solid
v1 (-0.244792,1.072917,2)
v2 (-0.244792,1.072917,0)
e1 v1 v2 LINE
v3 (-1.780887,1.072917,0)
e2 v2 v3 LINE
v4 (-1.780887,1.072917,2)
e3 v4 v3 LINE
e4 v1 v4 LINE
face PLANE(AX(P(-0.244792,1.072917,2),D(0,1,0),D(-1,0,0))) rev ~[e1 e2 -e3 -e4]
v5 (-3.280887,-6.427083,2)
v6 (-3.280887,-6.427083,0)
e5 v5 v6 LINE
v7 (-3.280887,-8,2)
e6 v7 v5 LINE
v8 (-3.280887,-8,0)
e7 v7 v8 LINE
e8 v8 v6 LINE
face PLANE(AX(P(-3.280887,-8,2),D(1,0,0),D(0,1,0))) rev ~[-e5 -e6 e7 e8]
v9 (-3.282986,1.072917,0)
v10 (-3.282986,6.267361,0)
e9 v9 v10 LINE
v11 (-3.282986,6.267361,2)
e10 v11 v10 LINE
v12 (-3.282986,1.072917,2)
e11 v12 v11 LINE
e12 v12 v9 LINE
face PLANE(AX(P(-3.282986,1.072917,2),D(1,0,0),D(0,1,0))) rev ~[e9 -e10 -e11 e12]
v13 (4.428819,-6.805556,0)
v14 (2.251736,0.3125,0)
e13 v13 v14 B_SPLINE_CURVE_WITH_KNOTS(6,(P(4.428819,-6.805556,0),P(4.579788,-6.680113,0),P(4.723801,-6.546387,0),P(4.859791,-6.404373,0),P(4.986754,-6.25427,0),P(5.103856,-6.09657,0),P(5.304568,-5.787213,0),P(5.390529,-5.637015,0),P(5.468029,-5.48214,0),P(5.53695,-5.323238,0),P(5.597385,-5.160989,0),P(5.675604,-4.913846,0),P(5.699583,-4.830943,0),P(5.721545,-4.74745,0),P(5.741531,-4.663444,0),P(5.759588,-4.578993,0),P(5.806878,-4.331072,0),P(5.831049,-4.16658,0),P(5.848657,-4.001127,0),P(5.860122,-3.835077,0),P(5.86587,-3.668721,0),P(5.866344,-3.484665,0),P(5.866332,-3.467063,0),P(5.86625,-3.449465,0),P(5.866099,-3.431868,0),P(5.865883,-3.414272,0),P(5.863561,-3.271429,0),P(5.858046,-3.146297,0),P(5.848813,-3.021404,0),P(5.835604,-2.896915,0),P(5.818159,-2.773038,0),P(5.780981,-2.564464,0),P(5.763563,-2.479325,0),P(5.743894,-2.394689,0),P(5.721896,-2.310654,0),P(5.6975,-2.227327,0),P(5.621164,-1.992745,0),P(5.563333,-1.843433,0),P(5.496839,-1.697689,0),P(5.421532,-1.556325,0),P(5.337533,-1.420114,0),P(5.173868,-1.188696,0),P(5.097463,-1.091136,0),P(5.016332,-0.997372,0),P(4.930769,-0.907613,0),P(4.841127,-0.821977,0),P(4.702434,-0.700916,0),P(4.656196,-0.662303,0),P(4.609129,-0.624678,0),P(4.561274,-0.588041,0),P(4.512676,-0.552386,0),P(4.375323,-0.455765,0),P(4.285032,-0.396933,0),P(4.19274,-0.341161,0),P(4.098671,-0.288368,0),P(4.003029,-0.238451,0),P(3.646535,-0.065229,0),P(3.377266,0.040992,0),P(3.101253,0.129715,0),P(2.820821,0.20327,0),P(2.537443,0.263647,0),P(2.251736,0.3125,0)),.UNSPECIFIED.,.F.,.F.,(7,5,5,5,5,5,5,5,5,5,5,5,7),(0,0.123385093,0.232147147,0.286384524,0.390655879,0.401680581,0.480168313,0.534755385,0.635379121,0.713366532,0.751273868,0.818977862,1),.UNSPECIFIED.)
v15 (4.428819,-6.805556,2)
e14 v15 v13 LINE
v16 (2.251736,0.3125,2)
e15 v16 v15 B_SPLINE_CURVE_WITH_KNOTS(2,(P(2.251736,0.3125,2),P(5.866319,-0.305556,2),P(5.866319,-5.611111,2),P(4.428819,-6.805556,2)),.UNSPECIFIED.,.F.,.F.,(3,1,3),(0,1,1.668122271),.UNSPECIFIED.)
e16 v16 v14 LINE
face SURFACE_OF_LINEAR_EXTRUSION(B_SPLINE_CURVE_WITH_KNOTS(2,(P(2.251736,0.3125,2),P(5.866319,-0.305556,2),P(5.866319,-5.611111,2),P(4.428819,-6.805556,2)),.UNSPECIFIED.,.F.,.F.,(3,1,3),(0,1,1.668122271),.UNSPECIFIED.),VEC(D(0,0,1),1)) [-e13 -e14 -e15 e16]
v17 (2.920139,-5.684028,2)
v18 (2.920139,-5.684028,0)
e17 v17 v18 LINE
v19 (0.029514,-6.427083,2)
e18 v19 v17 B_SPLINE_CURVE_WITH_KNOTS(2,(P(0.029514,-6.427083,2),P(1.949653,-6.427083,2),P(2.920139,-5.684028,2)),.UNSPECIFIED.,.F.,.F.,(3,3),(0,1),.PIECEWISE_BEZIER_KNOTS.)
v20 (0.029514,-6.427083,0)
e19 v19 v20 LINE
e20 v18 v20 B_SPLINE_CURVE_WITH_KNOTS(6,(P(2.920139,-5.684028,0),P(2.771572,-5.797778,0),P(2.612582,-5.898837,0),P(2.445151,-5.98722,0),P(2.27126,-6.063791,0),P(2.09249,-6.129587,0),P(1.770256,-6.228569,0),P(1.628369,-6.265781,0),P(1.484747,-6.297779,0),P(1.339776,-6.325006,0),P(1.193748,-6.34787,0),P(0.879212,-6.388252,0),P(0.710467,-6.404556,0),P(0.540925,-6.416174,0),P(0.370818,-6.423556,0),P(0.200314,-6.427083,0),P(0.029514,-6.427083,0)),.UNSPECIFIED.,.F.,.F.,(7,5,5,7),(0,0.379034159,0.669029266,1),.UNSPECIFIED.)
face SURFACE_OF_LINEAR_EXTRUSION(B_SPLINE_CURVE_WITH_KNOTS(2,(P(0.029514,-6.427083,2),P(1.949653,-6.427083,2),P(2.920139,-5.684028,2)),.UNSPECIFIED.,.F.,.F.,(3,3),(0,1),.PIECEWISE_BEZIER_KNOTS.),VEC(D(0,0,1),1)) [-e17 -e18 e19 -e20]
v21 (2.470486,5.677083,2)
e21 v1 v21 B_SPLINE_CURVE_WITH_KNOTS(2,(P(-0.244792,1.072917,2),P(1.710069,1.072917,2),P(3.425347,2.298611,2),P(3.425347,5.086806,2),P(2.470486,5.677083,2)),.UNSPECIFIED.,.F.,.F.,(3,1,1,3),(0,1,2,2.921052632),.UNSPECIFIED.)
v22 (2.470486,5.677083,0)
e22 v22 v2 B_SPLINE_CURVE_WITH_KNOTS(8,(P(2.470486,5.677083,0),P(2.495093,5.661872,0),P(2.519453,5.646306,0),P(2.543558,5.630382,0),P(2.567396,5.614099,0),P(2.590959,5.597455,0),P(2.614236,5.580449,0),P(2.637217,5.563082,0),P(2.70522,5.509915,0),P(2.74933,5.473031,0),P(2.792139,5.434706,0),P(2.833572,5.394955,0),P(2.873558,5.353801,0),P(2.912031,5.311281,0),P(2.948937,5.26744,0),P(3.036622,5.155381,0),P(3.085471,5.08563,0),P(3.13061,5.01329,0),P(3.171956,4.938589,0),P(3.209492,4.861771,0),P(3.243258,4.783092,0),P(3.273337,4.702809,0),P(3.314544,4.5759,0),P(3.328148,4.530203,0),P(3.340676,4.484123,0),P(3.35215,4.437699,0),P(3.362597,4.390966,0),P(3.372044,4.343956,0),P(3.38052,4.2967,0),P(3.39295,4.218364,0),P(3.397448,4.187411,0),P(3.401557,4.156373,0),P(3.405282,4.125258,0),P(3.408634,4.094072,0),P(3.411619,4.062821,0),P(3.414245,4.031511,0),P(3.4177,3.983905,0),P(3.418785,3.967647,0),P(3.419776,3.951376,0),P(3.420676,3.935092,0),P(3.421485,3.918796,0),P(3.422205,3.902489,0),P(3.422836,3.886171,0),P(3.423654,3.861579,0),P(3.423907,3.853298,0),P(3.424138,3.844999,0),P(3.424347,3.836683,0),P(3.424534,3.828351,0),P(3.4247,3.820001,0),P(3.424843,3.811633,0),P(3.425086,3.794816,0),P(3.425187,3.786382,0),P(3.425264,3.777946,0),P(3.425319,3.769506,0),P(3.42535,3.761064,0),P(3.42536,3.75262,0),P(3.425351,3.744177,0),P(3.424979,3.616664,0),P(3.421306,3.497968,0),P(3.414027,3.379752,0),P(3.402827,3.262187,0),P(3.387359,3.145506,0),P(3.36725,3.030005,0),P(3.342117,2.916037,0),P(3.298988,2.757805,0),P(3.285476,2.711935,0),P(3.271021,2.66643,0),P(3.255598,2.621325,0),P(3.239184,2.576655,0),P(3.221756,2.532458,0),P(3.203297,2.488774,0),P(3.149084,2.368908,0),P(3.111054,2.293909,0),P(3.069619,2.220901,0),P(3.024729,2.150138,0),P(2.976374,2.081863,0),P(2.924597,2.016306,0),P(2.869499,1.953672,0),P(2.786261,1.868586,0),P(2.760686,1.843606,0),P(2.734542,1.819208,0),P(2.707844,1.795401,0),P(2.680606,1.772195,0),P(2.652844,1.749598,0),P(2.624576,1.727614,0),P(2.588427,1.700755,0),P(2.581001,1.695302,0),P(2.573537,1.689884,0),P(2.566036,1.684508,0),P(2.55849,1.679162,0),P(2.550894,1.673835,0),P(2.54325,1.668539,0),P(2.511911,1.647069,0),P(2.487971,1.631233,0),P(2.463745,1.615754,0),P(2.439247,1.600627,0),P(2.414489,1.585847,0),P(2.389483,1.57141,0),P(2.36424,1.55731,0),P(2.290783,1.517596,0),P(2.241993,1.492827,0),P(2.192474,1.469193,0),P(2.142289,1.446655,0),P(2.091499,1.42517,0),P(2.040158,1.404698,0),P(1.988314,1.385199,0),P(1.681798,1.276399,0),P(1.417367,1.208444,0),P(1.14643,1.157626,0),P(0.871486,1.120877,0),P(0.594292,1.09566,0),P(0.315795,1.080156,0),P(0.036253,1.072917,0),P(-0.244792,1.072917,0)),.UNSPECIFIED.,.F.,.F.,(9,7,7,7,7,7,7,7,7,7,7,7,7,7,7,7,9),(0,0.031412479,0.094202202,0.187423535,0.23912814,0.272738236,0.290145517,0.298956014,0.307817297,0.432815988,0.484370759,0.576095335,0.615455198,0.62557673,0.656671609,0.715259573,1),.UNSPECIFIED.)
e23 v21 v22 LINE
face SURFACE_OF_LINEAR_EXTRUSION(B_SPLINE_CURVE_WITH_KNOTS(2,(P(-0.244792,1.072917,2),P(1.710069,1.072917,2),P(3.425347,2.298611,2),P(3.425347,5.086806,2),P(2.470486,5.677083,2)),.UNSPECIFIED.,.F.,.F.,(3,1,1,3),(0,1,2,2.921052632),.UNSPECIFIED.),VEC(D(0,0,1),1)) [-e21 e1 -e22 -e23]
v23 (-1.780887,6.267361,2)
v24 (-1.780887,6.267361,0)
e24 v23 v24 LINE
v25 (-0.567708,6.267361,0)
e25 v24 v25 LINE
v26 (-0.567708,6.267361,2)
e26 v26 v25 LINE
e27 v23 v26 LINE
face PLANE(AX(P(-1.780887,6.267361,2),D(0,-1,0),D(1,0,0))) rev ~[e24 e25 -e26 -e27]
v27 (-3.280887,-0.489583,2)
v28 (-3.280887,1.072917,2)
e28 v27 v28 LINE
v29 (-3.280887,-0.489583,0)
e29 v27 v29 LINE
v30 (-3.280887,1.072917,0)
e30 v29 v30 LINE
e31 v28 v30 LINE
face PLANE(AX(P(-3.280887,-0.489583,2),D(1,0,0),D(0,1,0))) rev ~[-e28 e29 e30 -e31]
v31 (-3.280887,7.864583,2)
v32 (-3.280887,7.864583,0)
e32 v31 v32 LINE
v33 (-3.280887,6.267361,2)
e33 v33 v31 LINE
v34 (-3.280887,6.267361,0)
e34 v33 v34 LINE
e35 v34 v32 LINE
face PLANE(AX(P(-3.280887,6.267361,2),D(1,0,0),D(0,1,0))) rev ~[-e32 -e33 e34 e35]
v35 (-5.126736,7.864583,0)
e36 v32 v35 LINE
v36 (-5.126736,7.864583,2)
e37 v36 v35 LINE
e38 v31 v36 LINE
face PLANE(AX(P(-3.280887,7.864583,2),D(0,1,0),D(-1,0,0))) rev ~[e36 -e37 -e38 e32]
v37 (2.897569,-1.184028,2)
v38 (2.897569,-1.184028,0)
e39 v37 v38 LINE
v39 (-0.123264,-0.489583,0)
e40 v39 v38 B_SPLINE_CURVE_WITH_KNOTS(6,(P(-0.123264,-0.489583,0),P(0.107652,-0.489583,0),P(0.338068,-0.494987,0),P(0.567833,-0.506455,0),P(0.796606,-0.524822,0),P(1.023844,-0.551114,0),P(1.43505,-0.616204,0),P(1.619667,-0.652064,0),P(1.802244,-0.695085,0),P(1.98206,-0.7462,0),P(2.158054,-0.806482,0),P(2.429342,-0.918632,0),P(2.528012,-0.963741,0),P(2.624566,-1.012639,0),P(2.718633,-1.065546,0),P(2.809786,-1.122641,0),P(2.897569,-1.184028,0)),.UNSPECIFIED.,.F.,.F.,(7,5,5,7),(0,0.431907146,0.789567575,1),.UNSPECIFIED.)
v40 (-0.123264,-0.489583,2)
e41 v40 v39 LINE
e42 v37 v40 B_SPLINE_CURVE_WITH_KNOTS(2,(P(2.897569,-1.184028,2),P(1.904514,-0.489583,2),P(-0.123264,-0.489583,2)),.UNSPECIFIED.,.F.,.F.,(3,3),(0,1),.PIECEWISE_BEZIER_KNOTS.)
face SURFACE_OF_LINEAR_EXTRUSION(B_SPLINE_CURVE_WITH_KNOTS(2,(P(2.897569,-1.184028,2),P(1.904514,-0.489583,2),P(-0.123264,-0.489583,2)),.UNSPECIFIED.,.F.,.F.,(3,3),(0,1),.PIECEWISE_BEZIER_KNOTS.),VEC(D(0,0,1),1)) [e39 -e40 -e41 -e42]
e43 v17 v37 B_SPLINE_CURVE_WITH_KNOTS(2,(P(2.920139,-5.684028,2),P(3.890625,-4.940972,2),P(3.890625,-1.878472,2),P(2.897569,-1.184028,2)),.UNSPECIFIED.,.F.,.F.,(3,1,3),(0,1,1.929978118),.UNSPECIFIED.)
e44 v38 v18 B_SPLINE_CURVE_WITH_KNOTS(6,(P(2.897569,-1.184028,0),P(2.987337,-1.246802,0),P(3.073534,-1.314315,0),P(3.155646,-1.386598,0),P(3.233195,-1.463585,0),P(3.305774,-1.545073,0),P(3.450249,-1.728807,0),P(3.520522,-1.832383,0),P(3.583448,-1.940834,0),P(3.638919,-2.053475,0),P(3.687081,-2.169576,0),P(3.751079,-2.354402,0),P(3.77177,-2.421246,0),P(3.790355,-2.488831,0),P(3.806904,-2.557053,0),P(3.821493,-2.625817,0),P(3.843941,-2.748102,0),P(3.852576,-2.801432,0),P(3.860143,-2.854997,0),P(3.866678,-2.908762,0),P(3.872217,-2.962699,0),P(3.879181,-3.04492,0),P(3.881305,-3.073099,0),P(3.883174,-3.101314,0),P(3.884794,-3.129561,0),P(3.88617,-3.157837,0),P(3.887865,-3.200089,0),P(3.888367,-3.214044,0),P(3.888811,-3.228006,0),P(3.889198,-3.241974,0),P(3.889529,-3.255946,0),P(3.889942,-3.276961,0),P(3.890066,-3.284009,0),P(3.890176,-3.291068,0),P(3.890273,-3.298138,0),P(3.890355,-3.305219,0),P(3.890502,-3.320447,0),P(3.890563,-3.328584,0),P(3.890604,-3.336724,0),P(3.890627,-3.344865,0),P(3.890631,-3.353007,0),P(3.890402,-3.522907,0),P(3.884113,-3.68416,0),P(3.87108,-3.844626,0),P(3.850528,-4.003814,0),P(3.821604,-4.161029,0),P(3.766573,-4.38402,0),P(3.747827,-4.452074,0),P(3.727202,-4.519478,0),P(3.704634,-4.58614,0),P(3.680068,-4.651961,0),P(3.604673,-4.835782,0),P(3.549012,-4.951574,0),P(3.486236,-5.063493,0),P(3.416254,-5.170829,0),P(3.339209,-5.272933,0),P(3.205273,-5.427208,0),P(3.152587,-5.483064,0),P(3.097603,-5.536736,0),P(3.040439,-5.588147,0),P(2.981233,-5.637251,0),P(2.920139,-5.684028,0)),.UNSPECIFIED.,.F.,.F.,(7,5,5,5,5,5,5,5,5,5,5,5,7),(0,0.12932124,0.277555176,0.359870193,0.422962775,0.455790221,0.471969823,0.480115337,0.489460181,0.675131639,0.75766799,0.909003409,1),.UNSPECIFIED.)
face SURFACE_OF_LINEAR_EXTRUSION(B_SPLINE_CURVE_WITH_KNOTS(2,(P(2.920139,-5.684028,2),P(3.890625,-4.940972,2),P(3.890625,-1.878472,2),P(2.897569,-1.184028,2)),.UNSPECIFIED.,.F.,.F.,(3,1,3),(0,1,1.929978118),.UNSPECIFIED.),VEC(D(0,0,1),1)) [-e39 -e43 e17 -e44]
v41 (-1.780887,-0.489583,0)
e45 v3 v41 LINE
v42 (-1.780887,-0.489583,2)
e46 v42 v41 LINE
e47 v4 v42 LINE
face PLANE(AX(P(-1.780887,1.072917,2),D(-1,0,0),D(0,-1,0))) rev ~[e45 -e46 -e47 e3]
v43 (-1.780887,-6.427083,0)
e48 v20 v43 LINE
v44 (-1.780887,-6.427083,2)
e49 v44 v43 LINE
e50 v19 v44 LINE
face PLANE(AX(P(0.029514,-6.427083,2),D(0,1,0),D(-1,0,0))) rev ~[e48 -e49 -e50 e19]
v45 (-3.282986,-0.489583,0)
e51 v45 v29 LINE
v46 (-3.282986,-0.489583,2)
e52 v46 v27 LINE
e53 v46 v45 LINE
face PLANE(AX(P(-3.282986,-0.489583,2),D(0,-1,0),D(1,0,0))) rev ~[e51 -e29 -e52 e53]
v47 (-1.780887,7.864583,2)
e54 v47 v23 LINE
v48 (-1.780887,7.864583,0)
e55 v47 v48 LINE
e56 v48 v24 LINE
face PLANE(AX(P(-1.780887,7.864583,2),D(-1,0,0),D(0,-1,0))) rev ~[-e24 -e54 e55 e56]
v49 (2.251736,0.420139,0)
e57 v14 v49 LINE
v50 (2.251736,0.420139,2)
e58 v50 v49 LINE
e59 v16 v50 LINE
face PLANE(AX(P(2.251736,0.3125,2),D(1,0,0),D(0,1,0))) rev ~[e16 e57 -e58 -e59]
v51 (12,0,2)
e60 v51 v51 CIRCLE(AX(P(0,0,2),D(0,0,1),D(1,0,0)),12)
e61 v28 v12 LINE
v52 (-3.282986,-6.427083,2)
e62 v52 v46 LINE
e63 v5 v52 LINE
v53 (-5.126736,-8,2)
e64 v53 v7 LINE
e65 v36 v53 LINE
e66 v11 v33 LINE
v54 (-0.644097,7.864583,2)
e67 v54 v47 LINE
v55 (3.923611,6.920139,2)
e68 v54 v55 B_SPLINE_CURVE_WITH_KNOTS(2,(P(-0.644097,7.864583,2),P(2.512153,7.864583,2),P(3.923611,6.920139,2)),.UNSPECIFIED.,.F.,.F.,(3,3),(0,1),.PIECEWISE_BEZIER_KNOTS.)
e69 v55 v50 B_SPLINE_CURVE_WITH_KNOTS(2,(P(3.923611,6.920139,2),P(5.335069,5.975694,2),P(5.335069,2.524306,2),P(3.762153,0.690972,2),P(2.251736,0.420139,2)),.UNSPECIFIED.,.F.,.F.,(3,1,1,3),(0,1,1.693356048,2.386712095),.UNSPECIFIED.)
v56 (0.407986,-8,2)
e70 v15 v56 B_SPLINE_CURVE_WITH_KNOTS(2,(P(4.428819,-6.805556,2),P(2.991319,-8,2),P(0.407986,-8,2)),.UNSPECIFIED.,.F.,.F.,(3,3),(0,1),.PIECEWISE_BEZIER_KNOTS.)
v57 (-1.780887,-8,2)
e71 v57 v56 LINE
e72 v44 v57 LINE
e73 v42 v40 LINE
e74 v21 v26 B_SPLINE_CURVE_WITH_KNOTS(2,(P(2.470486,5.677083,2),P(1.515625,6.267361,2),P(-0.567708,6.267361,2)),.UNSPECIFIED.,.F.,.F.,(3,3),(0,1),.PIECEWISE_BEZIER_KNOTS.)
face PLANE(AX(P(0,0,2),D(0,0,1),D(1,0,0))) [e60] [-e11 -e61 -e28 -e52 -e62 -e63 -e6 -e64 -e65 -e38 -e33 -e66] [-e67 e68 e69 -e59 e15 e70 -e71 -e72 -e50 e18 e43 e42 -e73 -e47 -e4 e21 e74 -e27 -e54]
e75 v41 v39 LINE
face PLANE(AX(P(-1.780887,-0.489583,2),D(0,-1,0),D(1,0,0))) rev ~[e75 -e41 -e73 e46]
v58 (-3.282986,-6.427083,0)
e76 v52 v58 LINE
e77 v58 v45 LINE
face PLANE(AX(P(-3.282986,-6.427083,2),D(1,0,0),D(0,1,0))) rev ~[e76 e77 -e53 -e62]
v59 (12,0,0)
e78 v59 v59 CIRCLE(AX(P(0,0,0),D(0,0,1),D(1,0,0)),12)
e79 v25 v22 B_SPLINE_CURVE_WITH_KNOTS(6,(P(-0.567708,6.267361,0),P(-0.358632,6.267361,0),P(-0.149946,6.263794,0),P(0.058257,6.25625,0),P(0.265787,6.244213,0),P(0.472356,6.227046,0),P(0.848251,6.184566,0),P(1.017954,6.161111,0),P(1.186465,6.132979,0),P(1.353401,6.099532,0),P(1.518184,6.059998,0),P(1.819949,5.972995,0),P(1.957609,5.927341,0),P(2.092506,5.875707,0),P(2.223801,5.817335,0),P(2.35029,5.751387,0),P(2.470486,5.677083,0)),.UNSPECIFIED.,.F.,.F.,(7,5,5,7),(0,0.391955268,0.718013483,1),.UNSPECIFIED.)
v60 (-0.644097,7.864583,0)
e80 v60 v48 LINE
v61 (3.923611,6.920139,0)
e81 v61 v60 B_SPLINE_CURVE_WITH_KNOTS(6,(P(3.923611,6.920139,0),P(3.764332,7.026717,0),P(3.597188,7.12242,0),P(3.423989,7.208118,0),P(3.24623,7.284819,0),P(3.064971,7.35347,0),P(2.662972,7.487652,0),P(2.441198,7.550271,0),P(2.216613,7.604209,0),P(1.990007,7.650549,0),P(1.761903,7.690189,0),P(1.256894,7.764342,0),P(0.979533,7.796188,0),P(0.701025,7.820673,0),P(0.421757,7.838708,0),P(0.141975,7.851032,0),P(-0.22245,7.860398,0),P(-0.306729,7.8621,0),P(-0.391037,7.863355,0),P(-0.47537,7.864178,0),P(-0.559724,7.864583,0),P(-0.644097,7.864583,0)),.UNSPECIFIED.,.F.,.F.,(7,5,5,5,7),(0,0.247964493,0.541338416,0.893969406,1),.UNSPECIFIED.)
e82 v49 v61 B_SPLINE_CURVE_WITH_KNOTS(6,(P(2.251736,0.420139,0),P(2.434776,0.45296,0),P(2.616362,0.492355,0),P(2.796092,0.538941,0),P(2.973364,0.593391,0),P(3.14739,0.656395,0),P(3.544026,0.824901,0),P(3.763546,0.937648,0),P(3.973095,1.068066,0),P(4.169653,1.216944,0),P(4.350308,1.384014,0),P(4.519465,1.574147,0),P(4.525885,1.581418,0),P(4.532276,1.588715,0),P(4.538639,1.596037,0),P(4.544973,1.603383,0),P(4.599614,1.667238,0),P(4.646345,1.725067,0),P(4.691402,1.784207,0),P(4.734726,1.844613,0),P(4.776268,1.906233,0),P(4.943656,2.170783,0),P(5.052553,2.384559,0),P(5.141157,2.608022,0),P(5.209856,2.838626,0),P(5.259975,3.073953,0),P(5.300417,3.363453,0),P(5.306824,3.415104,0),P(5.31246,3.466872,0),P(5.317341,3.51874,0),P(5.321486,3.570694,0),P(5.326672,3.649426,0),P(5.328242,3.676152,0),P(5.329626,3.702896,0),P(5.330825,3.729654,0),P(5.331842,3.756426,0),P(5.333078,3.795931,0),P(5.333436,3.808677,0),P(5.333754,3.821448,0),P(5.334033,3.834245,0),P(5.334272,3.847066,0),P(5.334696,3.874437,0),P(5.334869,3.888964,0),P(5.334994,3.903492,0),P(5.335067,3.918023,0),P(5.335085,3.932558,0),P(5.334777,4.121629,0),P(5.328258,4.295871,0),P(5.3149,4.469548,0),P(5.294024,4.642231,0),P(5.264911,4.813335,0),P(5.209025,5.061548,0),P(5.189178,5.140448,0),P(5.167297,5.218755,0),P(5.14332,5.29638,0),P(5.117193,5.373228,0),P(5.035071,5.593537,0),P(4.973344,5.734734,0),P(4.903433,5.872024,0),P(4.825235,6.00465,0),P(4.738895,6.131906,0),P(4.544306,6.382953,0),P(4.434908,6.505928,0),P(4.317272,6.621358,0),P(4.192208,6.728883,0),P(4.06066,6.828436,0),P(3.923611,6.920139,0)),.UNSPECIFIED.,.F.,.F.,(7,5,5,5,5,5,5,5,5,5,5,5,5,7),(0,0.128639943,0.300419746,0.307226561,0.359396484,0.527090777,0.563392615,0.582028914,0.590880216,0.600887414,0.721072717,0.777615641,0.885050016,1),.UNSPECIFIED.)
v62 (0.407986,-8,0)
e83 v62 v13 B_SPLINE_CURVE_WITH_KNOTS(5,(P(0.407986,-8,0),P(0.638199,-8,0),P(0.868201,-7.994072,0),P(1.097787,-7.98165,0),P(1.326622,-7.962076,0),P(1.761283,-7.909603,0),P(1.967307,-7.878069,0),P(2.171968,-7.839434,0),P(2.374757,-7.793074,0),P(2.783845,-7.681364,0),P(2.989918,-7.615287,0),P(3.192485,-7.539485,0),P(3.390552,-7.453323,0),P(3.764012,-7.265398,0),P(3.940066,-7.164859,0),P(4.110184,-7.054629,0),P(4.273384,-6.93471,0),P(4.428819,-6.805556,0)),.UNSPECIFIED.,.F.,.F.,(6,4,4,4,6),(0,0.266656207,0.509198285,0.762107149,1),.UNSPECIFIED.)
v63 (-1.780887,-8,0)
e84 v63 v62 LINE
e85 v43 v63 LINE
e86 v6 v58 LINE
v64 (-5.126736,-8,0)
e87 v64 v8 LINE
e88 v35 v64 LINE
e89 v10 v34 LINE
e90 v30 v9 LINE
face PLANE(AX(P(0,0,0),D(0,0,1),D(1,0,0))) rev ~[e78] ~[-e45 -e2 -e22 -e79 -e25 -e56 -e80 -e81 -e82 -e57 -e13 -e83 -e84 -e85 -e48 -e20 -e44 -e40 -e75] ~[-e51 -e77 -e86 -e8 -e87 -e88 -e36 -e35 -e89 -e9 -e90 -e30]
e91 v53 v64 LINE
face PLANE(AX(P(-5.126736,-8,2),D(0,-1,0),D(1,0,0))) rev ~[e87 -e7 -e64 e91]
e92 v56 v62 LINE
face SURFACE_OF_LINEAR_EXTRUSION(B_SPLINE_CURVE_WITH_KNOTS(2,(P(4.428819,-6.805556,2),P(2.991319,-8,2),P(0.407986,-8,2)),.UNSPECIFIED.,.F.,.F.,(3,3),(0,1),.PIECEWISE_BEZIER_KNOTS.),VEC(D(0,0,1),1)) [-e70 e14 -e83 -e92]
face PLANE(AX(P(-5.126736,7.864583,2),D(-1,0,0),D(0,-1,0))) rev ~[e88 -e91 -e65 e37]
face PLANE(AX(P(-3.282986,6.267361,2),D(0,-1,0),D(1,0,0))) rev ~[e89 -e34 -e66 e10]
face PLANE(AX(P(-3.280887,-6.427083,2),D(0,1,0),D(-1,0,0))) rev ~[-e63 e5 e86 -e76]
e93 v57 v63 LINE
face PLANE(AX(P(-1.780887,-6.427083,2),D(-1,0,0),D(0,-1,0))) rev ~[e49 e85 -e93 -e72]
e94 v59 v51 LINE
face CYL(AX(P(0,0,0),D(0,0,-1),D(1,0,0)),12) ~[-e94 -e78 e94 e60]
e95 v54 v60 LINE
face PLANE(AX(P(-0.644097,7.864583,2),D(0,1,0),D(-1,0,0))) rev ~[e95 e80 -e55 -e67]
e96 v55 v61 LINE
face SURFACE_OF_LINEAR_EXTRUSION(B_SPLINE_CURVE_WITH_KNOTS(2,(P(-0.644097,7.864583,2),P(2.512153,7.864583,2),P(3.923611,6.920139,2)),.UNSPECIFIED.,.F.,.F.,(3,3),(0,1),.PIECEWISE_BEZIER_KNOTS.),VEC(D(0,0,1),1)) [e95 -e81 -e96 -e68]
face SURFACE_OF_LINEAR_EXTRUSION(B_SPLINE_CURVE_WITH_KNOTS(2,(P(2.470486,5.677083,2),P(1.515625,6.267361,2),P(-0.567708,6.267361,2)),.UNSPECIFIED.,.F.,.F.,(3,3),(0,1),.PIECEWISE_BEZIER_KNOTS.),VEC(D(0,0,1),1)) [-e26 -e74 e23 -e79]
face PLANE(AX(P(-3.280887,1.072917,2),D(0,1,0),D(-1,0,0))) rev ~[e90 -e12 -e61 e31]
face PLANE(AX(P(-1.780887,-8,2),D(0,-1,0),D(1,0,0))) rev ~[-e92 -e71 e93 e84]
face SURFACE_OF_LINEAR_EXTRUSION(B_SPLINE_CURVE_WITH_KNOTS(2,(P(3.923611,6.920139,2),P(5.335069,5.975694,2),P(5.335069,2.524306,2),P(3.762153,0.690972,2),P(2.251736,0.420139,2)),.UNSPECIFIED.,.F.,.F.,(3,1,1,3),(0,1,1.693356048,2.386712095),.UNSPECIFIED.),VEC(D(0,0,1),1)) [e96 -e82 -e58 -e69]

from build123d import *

# Parameters (mm, degrees)
F0_R     = 12
F1_DEPTH = 2
F3_DEPTH = 25


with BuildPart() as f1:
    # F0 (on Top) → F1 (new body)
    with BuildSketch(Plane.XY):
        Circle(F0_R)
    extrude(amount=F1_DEPTH)

    # F2 (on face) → F3 (cut)
    with BuildSketch(Plane.XY.offset(2)):
        Polygon((-3.2808869146, 6.2673611111), (-3.2808869146, 7.8645833333), (-5.1267361111, 7.8645833333), (-5.1267361111, -8), (-3.2808869146, -8), (-3.2808869146, -6.4270833333), (-3.2829861111, -6.4270833333), (-3.2829861111, -0.4895833333), (-3.2808869146, -0.4895833333), (-3.2808869146, 1.0729166667), (-3.2829861111, 1.0729166667), (-3.2829861111, 6.2673611111), align=None)
        with BuildLine():
            Line((-0.6440972222, 7.8645833333), (-1.7808869146, 7.8645833333))
            Line((-1.7808869146, 7.8645833333), (-1.7808869146, 6.2673611111))
            Line((-1.7808869146, 6.2673611111), (-0.5677083333, 6.2673611111))
            add(Edge.make_bspline(
                [(2.4704861111, 5.6770833333), (1.515625, 6.2673611111), (-0.5677083333, 6.2673611111)],
                knots=[0, 0, 0, 1, 1, 1], degree=2))
            add(Edge.make_bspline(
                [(3.4253472222, 3.75), (3.4253472222, 5.0868055556), (2.4704861111, 5.6770833333)],
                knots=[0, 0, 0, 1, 1, 1], degree=2))
            add(Edge.make_bspline(
                [(2.5677083333, 1.6857638889), (3.4253472222, 2.2986111111), (3.4253472222, 3.75)],
                knots=[0, 0, 0, 1, 1, 1], degree=2))
            add(Edge.make_bspline(
                [(-0.2447916667, 1.0729166667), (1.7100694444, 1.0729166667), (2.5677083333, 1.6857638889)],
                knots=[0, 0, 0, 1, 1, 1], degree=2))
            Line((-0.2447916667, 1.0729166667), (-1.7808869146, 1.0729166667))
            Line((-1.7808869146, 1.0729166667), (-1.7808869146, -0.4895833333))
            Line((-1.7808869146, -0.4895833333), (-0.1232638889, -0.4895833333))
            add(Edge.make_bspline(
                [(2.8975694444, -1.1840277778), (1.9045138889, -0.4895833333), (-0.1232638889, -0.4895833333)],
                knots=[0, 0, 0, 1, 1, 1], degree=2))
            add(Edge.make_bspline(
                [(3.890625, -3.3541666667), (3.890625, -1.8784722222), (2.8975694444, -1.1840277778)],
                knots=[0, 0, 0, 1, 1, 1], degree=2))
            add(Edge.make_bspline(
                [(2.9201388889, -5.6840277778), (3.890625, -4.9409722222), (3.890625, -3.3541666667)],
                knots=[0, 0, 0, 1, 1, 1], degree=2))
            add(Edge.make_bspline(
                [(0.0295138889, -6.4270833333), (1.9496527778, -6.4270833333), (2.9201388889, -5.6840277778)],
                knots=[0, 0, 0, 1, 1, 1], degree=2))
            Line((0.0295138889, -6.4270833333), (-1.7808869146, -6.4270833333))
            Line((-1.7808869146, -6.4270833333), (-1.7808869146, -8))
            Line((-1.7808869146, -8), (0.4079861111, -8))
            add(Edge.make_bspline(
                [(4.4288194444, -6.8055555556), (2.9913194444, -8), (0.4079861111, -8)],
                knots=[0, 0, 0, 1, 1, 1], degree=2))
            add(Edge.make_bspline(
                [(5.8663194444, -3.4861111111), (5.8663194444, -5.6111111111), (4.4288194444, -6.8055555556)],
                knots=[0, 0, 0, 1, 1, 1], degree=2))
            add(Edge.make_bspline(
                [(2.2517361111, 0.3125), (5.8663194444, -0.3055555556), (5.8663194444, -3.4861111111)],
                knots=[0, 0, 0, 1, 1, 1], degree=2))
            Line((2.2517361111, 0.3125), (2.2517361111, 0.4201388889))
            add(Edge.make_bspline(
                [(4.5486111111, 1.6076388889), (3.7621527778, 0.6909722222), (2.2517361111, 0.4201388889)],
                knots=[0, 0, 0, 1, 1, 1], degree=2))
            add(Edge.make_bspline(
                [(5.3350694444, 3.9375), (5.3350694444, 2.5243055556), (4.5486111111, 1.6076388889)],
                knots=[0, 0, 0, 1, 1, 1], degree=2))
            add(Edge.make_bspline(
                [(3.9236111111, 6.9201388889), (5.3350694444, 5.9756944444), (5.3350694444, 3.9375)],
                knots=[0, 0, 0, 1, 1, 1], degree=2))
            add(Edge.make_bspline(
                [(-0.6440972222, 7.8645833333), (2.5121527778, 7.8645833333), (3.9236111111, 6.9201388889)],
                knots=[0, 0, 0, 1, 1, 1], degree=2))
        make_face()
    extrude(amount=-F3_DEPTH, mode=Mode.SUBTRACT)


solid = f1.part
